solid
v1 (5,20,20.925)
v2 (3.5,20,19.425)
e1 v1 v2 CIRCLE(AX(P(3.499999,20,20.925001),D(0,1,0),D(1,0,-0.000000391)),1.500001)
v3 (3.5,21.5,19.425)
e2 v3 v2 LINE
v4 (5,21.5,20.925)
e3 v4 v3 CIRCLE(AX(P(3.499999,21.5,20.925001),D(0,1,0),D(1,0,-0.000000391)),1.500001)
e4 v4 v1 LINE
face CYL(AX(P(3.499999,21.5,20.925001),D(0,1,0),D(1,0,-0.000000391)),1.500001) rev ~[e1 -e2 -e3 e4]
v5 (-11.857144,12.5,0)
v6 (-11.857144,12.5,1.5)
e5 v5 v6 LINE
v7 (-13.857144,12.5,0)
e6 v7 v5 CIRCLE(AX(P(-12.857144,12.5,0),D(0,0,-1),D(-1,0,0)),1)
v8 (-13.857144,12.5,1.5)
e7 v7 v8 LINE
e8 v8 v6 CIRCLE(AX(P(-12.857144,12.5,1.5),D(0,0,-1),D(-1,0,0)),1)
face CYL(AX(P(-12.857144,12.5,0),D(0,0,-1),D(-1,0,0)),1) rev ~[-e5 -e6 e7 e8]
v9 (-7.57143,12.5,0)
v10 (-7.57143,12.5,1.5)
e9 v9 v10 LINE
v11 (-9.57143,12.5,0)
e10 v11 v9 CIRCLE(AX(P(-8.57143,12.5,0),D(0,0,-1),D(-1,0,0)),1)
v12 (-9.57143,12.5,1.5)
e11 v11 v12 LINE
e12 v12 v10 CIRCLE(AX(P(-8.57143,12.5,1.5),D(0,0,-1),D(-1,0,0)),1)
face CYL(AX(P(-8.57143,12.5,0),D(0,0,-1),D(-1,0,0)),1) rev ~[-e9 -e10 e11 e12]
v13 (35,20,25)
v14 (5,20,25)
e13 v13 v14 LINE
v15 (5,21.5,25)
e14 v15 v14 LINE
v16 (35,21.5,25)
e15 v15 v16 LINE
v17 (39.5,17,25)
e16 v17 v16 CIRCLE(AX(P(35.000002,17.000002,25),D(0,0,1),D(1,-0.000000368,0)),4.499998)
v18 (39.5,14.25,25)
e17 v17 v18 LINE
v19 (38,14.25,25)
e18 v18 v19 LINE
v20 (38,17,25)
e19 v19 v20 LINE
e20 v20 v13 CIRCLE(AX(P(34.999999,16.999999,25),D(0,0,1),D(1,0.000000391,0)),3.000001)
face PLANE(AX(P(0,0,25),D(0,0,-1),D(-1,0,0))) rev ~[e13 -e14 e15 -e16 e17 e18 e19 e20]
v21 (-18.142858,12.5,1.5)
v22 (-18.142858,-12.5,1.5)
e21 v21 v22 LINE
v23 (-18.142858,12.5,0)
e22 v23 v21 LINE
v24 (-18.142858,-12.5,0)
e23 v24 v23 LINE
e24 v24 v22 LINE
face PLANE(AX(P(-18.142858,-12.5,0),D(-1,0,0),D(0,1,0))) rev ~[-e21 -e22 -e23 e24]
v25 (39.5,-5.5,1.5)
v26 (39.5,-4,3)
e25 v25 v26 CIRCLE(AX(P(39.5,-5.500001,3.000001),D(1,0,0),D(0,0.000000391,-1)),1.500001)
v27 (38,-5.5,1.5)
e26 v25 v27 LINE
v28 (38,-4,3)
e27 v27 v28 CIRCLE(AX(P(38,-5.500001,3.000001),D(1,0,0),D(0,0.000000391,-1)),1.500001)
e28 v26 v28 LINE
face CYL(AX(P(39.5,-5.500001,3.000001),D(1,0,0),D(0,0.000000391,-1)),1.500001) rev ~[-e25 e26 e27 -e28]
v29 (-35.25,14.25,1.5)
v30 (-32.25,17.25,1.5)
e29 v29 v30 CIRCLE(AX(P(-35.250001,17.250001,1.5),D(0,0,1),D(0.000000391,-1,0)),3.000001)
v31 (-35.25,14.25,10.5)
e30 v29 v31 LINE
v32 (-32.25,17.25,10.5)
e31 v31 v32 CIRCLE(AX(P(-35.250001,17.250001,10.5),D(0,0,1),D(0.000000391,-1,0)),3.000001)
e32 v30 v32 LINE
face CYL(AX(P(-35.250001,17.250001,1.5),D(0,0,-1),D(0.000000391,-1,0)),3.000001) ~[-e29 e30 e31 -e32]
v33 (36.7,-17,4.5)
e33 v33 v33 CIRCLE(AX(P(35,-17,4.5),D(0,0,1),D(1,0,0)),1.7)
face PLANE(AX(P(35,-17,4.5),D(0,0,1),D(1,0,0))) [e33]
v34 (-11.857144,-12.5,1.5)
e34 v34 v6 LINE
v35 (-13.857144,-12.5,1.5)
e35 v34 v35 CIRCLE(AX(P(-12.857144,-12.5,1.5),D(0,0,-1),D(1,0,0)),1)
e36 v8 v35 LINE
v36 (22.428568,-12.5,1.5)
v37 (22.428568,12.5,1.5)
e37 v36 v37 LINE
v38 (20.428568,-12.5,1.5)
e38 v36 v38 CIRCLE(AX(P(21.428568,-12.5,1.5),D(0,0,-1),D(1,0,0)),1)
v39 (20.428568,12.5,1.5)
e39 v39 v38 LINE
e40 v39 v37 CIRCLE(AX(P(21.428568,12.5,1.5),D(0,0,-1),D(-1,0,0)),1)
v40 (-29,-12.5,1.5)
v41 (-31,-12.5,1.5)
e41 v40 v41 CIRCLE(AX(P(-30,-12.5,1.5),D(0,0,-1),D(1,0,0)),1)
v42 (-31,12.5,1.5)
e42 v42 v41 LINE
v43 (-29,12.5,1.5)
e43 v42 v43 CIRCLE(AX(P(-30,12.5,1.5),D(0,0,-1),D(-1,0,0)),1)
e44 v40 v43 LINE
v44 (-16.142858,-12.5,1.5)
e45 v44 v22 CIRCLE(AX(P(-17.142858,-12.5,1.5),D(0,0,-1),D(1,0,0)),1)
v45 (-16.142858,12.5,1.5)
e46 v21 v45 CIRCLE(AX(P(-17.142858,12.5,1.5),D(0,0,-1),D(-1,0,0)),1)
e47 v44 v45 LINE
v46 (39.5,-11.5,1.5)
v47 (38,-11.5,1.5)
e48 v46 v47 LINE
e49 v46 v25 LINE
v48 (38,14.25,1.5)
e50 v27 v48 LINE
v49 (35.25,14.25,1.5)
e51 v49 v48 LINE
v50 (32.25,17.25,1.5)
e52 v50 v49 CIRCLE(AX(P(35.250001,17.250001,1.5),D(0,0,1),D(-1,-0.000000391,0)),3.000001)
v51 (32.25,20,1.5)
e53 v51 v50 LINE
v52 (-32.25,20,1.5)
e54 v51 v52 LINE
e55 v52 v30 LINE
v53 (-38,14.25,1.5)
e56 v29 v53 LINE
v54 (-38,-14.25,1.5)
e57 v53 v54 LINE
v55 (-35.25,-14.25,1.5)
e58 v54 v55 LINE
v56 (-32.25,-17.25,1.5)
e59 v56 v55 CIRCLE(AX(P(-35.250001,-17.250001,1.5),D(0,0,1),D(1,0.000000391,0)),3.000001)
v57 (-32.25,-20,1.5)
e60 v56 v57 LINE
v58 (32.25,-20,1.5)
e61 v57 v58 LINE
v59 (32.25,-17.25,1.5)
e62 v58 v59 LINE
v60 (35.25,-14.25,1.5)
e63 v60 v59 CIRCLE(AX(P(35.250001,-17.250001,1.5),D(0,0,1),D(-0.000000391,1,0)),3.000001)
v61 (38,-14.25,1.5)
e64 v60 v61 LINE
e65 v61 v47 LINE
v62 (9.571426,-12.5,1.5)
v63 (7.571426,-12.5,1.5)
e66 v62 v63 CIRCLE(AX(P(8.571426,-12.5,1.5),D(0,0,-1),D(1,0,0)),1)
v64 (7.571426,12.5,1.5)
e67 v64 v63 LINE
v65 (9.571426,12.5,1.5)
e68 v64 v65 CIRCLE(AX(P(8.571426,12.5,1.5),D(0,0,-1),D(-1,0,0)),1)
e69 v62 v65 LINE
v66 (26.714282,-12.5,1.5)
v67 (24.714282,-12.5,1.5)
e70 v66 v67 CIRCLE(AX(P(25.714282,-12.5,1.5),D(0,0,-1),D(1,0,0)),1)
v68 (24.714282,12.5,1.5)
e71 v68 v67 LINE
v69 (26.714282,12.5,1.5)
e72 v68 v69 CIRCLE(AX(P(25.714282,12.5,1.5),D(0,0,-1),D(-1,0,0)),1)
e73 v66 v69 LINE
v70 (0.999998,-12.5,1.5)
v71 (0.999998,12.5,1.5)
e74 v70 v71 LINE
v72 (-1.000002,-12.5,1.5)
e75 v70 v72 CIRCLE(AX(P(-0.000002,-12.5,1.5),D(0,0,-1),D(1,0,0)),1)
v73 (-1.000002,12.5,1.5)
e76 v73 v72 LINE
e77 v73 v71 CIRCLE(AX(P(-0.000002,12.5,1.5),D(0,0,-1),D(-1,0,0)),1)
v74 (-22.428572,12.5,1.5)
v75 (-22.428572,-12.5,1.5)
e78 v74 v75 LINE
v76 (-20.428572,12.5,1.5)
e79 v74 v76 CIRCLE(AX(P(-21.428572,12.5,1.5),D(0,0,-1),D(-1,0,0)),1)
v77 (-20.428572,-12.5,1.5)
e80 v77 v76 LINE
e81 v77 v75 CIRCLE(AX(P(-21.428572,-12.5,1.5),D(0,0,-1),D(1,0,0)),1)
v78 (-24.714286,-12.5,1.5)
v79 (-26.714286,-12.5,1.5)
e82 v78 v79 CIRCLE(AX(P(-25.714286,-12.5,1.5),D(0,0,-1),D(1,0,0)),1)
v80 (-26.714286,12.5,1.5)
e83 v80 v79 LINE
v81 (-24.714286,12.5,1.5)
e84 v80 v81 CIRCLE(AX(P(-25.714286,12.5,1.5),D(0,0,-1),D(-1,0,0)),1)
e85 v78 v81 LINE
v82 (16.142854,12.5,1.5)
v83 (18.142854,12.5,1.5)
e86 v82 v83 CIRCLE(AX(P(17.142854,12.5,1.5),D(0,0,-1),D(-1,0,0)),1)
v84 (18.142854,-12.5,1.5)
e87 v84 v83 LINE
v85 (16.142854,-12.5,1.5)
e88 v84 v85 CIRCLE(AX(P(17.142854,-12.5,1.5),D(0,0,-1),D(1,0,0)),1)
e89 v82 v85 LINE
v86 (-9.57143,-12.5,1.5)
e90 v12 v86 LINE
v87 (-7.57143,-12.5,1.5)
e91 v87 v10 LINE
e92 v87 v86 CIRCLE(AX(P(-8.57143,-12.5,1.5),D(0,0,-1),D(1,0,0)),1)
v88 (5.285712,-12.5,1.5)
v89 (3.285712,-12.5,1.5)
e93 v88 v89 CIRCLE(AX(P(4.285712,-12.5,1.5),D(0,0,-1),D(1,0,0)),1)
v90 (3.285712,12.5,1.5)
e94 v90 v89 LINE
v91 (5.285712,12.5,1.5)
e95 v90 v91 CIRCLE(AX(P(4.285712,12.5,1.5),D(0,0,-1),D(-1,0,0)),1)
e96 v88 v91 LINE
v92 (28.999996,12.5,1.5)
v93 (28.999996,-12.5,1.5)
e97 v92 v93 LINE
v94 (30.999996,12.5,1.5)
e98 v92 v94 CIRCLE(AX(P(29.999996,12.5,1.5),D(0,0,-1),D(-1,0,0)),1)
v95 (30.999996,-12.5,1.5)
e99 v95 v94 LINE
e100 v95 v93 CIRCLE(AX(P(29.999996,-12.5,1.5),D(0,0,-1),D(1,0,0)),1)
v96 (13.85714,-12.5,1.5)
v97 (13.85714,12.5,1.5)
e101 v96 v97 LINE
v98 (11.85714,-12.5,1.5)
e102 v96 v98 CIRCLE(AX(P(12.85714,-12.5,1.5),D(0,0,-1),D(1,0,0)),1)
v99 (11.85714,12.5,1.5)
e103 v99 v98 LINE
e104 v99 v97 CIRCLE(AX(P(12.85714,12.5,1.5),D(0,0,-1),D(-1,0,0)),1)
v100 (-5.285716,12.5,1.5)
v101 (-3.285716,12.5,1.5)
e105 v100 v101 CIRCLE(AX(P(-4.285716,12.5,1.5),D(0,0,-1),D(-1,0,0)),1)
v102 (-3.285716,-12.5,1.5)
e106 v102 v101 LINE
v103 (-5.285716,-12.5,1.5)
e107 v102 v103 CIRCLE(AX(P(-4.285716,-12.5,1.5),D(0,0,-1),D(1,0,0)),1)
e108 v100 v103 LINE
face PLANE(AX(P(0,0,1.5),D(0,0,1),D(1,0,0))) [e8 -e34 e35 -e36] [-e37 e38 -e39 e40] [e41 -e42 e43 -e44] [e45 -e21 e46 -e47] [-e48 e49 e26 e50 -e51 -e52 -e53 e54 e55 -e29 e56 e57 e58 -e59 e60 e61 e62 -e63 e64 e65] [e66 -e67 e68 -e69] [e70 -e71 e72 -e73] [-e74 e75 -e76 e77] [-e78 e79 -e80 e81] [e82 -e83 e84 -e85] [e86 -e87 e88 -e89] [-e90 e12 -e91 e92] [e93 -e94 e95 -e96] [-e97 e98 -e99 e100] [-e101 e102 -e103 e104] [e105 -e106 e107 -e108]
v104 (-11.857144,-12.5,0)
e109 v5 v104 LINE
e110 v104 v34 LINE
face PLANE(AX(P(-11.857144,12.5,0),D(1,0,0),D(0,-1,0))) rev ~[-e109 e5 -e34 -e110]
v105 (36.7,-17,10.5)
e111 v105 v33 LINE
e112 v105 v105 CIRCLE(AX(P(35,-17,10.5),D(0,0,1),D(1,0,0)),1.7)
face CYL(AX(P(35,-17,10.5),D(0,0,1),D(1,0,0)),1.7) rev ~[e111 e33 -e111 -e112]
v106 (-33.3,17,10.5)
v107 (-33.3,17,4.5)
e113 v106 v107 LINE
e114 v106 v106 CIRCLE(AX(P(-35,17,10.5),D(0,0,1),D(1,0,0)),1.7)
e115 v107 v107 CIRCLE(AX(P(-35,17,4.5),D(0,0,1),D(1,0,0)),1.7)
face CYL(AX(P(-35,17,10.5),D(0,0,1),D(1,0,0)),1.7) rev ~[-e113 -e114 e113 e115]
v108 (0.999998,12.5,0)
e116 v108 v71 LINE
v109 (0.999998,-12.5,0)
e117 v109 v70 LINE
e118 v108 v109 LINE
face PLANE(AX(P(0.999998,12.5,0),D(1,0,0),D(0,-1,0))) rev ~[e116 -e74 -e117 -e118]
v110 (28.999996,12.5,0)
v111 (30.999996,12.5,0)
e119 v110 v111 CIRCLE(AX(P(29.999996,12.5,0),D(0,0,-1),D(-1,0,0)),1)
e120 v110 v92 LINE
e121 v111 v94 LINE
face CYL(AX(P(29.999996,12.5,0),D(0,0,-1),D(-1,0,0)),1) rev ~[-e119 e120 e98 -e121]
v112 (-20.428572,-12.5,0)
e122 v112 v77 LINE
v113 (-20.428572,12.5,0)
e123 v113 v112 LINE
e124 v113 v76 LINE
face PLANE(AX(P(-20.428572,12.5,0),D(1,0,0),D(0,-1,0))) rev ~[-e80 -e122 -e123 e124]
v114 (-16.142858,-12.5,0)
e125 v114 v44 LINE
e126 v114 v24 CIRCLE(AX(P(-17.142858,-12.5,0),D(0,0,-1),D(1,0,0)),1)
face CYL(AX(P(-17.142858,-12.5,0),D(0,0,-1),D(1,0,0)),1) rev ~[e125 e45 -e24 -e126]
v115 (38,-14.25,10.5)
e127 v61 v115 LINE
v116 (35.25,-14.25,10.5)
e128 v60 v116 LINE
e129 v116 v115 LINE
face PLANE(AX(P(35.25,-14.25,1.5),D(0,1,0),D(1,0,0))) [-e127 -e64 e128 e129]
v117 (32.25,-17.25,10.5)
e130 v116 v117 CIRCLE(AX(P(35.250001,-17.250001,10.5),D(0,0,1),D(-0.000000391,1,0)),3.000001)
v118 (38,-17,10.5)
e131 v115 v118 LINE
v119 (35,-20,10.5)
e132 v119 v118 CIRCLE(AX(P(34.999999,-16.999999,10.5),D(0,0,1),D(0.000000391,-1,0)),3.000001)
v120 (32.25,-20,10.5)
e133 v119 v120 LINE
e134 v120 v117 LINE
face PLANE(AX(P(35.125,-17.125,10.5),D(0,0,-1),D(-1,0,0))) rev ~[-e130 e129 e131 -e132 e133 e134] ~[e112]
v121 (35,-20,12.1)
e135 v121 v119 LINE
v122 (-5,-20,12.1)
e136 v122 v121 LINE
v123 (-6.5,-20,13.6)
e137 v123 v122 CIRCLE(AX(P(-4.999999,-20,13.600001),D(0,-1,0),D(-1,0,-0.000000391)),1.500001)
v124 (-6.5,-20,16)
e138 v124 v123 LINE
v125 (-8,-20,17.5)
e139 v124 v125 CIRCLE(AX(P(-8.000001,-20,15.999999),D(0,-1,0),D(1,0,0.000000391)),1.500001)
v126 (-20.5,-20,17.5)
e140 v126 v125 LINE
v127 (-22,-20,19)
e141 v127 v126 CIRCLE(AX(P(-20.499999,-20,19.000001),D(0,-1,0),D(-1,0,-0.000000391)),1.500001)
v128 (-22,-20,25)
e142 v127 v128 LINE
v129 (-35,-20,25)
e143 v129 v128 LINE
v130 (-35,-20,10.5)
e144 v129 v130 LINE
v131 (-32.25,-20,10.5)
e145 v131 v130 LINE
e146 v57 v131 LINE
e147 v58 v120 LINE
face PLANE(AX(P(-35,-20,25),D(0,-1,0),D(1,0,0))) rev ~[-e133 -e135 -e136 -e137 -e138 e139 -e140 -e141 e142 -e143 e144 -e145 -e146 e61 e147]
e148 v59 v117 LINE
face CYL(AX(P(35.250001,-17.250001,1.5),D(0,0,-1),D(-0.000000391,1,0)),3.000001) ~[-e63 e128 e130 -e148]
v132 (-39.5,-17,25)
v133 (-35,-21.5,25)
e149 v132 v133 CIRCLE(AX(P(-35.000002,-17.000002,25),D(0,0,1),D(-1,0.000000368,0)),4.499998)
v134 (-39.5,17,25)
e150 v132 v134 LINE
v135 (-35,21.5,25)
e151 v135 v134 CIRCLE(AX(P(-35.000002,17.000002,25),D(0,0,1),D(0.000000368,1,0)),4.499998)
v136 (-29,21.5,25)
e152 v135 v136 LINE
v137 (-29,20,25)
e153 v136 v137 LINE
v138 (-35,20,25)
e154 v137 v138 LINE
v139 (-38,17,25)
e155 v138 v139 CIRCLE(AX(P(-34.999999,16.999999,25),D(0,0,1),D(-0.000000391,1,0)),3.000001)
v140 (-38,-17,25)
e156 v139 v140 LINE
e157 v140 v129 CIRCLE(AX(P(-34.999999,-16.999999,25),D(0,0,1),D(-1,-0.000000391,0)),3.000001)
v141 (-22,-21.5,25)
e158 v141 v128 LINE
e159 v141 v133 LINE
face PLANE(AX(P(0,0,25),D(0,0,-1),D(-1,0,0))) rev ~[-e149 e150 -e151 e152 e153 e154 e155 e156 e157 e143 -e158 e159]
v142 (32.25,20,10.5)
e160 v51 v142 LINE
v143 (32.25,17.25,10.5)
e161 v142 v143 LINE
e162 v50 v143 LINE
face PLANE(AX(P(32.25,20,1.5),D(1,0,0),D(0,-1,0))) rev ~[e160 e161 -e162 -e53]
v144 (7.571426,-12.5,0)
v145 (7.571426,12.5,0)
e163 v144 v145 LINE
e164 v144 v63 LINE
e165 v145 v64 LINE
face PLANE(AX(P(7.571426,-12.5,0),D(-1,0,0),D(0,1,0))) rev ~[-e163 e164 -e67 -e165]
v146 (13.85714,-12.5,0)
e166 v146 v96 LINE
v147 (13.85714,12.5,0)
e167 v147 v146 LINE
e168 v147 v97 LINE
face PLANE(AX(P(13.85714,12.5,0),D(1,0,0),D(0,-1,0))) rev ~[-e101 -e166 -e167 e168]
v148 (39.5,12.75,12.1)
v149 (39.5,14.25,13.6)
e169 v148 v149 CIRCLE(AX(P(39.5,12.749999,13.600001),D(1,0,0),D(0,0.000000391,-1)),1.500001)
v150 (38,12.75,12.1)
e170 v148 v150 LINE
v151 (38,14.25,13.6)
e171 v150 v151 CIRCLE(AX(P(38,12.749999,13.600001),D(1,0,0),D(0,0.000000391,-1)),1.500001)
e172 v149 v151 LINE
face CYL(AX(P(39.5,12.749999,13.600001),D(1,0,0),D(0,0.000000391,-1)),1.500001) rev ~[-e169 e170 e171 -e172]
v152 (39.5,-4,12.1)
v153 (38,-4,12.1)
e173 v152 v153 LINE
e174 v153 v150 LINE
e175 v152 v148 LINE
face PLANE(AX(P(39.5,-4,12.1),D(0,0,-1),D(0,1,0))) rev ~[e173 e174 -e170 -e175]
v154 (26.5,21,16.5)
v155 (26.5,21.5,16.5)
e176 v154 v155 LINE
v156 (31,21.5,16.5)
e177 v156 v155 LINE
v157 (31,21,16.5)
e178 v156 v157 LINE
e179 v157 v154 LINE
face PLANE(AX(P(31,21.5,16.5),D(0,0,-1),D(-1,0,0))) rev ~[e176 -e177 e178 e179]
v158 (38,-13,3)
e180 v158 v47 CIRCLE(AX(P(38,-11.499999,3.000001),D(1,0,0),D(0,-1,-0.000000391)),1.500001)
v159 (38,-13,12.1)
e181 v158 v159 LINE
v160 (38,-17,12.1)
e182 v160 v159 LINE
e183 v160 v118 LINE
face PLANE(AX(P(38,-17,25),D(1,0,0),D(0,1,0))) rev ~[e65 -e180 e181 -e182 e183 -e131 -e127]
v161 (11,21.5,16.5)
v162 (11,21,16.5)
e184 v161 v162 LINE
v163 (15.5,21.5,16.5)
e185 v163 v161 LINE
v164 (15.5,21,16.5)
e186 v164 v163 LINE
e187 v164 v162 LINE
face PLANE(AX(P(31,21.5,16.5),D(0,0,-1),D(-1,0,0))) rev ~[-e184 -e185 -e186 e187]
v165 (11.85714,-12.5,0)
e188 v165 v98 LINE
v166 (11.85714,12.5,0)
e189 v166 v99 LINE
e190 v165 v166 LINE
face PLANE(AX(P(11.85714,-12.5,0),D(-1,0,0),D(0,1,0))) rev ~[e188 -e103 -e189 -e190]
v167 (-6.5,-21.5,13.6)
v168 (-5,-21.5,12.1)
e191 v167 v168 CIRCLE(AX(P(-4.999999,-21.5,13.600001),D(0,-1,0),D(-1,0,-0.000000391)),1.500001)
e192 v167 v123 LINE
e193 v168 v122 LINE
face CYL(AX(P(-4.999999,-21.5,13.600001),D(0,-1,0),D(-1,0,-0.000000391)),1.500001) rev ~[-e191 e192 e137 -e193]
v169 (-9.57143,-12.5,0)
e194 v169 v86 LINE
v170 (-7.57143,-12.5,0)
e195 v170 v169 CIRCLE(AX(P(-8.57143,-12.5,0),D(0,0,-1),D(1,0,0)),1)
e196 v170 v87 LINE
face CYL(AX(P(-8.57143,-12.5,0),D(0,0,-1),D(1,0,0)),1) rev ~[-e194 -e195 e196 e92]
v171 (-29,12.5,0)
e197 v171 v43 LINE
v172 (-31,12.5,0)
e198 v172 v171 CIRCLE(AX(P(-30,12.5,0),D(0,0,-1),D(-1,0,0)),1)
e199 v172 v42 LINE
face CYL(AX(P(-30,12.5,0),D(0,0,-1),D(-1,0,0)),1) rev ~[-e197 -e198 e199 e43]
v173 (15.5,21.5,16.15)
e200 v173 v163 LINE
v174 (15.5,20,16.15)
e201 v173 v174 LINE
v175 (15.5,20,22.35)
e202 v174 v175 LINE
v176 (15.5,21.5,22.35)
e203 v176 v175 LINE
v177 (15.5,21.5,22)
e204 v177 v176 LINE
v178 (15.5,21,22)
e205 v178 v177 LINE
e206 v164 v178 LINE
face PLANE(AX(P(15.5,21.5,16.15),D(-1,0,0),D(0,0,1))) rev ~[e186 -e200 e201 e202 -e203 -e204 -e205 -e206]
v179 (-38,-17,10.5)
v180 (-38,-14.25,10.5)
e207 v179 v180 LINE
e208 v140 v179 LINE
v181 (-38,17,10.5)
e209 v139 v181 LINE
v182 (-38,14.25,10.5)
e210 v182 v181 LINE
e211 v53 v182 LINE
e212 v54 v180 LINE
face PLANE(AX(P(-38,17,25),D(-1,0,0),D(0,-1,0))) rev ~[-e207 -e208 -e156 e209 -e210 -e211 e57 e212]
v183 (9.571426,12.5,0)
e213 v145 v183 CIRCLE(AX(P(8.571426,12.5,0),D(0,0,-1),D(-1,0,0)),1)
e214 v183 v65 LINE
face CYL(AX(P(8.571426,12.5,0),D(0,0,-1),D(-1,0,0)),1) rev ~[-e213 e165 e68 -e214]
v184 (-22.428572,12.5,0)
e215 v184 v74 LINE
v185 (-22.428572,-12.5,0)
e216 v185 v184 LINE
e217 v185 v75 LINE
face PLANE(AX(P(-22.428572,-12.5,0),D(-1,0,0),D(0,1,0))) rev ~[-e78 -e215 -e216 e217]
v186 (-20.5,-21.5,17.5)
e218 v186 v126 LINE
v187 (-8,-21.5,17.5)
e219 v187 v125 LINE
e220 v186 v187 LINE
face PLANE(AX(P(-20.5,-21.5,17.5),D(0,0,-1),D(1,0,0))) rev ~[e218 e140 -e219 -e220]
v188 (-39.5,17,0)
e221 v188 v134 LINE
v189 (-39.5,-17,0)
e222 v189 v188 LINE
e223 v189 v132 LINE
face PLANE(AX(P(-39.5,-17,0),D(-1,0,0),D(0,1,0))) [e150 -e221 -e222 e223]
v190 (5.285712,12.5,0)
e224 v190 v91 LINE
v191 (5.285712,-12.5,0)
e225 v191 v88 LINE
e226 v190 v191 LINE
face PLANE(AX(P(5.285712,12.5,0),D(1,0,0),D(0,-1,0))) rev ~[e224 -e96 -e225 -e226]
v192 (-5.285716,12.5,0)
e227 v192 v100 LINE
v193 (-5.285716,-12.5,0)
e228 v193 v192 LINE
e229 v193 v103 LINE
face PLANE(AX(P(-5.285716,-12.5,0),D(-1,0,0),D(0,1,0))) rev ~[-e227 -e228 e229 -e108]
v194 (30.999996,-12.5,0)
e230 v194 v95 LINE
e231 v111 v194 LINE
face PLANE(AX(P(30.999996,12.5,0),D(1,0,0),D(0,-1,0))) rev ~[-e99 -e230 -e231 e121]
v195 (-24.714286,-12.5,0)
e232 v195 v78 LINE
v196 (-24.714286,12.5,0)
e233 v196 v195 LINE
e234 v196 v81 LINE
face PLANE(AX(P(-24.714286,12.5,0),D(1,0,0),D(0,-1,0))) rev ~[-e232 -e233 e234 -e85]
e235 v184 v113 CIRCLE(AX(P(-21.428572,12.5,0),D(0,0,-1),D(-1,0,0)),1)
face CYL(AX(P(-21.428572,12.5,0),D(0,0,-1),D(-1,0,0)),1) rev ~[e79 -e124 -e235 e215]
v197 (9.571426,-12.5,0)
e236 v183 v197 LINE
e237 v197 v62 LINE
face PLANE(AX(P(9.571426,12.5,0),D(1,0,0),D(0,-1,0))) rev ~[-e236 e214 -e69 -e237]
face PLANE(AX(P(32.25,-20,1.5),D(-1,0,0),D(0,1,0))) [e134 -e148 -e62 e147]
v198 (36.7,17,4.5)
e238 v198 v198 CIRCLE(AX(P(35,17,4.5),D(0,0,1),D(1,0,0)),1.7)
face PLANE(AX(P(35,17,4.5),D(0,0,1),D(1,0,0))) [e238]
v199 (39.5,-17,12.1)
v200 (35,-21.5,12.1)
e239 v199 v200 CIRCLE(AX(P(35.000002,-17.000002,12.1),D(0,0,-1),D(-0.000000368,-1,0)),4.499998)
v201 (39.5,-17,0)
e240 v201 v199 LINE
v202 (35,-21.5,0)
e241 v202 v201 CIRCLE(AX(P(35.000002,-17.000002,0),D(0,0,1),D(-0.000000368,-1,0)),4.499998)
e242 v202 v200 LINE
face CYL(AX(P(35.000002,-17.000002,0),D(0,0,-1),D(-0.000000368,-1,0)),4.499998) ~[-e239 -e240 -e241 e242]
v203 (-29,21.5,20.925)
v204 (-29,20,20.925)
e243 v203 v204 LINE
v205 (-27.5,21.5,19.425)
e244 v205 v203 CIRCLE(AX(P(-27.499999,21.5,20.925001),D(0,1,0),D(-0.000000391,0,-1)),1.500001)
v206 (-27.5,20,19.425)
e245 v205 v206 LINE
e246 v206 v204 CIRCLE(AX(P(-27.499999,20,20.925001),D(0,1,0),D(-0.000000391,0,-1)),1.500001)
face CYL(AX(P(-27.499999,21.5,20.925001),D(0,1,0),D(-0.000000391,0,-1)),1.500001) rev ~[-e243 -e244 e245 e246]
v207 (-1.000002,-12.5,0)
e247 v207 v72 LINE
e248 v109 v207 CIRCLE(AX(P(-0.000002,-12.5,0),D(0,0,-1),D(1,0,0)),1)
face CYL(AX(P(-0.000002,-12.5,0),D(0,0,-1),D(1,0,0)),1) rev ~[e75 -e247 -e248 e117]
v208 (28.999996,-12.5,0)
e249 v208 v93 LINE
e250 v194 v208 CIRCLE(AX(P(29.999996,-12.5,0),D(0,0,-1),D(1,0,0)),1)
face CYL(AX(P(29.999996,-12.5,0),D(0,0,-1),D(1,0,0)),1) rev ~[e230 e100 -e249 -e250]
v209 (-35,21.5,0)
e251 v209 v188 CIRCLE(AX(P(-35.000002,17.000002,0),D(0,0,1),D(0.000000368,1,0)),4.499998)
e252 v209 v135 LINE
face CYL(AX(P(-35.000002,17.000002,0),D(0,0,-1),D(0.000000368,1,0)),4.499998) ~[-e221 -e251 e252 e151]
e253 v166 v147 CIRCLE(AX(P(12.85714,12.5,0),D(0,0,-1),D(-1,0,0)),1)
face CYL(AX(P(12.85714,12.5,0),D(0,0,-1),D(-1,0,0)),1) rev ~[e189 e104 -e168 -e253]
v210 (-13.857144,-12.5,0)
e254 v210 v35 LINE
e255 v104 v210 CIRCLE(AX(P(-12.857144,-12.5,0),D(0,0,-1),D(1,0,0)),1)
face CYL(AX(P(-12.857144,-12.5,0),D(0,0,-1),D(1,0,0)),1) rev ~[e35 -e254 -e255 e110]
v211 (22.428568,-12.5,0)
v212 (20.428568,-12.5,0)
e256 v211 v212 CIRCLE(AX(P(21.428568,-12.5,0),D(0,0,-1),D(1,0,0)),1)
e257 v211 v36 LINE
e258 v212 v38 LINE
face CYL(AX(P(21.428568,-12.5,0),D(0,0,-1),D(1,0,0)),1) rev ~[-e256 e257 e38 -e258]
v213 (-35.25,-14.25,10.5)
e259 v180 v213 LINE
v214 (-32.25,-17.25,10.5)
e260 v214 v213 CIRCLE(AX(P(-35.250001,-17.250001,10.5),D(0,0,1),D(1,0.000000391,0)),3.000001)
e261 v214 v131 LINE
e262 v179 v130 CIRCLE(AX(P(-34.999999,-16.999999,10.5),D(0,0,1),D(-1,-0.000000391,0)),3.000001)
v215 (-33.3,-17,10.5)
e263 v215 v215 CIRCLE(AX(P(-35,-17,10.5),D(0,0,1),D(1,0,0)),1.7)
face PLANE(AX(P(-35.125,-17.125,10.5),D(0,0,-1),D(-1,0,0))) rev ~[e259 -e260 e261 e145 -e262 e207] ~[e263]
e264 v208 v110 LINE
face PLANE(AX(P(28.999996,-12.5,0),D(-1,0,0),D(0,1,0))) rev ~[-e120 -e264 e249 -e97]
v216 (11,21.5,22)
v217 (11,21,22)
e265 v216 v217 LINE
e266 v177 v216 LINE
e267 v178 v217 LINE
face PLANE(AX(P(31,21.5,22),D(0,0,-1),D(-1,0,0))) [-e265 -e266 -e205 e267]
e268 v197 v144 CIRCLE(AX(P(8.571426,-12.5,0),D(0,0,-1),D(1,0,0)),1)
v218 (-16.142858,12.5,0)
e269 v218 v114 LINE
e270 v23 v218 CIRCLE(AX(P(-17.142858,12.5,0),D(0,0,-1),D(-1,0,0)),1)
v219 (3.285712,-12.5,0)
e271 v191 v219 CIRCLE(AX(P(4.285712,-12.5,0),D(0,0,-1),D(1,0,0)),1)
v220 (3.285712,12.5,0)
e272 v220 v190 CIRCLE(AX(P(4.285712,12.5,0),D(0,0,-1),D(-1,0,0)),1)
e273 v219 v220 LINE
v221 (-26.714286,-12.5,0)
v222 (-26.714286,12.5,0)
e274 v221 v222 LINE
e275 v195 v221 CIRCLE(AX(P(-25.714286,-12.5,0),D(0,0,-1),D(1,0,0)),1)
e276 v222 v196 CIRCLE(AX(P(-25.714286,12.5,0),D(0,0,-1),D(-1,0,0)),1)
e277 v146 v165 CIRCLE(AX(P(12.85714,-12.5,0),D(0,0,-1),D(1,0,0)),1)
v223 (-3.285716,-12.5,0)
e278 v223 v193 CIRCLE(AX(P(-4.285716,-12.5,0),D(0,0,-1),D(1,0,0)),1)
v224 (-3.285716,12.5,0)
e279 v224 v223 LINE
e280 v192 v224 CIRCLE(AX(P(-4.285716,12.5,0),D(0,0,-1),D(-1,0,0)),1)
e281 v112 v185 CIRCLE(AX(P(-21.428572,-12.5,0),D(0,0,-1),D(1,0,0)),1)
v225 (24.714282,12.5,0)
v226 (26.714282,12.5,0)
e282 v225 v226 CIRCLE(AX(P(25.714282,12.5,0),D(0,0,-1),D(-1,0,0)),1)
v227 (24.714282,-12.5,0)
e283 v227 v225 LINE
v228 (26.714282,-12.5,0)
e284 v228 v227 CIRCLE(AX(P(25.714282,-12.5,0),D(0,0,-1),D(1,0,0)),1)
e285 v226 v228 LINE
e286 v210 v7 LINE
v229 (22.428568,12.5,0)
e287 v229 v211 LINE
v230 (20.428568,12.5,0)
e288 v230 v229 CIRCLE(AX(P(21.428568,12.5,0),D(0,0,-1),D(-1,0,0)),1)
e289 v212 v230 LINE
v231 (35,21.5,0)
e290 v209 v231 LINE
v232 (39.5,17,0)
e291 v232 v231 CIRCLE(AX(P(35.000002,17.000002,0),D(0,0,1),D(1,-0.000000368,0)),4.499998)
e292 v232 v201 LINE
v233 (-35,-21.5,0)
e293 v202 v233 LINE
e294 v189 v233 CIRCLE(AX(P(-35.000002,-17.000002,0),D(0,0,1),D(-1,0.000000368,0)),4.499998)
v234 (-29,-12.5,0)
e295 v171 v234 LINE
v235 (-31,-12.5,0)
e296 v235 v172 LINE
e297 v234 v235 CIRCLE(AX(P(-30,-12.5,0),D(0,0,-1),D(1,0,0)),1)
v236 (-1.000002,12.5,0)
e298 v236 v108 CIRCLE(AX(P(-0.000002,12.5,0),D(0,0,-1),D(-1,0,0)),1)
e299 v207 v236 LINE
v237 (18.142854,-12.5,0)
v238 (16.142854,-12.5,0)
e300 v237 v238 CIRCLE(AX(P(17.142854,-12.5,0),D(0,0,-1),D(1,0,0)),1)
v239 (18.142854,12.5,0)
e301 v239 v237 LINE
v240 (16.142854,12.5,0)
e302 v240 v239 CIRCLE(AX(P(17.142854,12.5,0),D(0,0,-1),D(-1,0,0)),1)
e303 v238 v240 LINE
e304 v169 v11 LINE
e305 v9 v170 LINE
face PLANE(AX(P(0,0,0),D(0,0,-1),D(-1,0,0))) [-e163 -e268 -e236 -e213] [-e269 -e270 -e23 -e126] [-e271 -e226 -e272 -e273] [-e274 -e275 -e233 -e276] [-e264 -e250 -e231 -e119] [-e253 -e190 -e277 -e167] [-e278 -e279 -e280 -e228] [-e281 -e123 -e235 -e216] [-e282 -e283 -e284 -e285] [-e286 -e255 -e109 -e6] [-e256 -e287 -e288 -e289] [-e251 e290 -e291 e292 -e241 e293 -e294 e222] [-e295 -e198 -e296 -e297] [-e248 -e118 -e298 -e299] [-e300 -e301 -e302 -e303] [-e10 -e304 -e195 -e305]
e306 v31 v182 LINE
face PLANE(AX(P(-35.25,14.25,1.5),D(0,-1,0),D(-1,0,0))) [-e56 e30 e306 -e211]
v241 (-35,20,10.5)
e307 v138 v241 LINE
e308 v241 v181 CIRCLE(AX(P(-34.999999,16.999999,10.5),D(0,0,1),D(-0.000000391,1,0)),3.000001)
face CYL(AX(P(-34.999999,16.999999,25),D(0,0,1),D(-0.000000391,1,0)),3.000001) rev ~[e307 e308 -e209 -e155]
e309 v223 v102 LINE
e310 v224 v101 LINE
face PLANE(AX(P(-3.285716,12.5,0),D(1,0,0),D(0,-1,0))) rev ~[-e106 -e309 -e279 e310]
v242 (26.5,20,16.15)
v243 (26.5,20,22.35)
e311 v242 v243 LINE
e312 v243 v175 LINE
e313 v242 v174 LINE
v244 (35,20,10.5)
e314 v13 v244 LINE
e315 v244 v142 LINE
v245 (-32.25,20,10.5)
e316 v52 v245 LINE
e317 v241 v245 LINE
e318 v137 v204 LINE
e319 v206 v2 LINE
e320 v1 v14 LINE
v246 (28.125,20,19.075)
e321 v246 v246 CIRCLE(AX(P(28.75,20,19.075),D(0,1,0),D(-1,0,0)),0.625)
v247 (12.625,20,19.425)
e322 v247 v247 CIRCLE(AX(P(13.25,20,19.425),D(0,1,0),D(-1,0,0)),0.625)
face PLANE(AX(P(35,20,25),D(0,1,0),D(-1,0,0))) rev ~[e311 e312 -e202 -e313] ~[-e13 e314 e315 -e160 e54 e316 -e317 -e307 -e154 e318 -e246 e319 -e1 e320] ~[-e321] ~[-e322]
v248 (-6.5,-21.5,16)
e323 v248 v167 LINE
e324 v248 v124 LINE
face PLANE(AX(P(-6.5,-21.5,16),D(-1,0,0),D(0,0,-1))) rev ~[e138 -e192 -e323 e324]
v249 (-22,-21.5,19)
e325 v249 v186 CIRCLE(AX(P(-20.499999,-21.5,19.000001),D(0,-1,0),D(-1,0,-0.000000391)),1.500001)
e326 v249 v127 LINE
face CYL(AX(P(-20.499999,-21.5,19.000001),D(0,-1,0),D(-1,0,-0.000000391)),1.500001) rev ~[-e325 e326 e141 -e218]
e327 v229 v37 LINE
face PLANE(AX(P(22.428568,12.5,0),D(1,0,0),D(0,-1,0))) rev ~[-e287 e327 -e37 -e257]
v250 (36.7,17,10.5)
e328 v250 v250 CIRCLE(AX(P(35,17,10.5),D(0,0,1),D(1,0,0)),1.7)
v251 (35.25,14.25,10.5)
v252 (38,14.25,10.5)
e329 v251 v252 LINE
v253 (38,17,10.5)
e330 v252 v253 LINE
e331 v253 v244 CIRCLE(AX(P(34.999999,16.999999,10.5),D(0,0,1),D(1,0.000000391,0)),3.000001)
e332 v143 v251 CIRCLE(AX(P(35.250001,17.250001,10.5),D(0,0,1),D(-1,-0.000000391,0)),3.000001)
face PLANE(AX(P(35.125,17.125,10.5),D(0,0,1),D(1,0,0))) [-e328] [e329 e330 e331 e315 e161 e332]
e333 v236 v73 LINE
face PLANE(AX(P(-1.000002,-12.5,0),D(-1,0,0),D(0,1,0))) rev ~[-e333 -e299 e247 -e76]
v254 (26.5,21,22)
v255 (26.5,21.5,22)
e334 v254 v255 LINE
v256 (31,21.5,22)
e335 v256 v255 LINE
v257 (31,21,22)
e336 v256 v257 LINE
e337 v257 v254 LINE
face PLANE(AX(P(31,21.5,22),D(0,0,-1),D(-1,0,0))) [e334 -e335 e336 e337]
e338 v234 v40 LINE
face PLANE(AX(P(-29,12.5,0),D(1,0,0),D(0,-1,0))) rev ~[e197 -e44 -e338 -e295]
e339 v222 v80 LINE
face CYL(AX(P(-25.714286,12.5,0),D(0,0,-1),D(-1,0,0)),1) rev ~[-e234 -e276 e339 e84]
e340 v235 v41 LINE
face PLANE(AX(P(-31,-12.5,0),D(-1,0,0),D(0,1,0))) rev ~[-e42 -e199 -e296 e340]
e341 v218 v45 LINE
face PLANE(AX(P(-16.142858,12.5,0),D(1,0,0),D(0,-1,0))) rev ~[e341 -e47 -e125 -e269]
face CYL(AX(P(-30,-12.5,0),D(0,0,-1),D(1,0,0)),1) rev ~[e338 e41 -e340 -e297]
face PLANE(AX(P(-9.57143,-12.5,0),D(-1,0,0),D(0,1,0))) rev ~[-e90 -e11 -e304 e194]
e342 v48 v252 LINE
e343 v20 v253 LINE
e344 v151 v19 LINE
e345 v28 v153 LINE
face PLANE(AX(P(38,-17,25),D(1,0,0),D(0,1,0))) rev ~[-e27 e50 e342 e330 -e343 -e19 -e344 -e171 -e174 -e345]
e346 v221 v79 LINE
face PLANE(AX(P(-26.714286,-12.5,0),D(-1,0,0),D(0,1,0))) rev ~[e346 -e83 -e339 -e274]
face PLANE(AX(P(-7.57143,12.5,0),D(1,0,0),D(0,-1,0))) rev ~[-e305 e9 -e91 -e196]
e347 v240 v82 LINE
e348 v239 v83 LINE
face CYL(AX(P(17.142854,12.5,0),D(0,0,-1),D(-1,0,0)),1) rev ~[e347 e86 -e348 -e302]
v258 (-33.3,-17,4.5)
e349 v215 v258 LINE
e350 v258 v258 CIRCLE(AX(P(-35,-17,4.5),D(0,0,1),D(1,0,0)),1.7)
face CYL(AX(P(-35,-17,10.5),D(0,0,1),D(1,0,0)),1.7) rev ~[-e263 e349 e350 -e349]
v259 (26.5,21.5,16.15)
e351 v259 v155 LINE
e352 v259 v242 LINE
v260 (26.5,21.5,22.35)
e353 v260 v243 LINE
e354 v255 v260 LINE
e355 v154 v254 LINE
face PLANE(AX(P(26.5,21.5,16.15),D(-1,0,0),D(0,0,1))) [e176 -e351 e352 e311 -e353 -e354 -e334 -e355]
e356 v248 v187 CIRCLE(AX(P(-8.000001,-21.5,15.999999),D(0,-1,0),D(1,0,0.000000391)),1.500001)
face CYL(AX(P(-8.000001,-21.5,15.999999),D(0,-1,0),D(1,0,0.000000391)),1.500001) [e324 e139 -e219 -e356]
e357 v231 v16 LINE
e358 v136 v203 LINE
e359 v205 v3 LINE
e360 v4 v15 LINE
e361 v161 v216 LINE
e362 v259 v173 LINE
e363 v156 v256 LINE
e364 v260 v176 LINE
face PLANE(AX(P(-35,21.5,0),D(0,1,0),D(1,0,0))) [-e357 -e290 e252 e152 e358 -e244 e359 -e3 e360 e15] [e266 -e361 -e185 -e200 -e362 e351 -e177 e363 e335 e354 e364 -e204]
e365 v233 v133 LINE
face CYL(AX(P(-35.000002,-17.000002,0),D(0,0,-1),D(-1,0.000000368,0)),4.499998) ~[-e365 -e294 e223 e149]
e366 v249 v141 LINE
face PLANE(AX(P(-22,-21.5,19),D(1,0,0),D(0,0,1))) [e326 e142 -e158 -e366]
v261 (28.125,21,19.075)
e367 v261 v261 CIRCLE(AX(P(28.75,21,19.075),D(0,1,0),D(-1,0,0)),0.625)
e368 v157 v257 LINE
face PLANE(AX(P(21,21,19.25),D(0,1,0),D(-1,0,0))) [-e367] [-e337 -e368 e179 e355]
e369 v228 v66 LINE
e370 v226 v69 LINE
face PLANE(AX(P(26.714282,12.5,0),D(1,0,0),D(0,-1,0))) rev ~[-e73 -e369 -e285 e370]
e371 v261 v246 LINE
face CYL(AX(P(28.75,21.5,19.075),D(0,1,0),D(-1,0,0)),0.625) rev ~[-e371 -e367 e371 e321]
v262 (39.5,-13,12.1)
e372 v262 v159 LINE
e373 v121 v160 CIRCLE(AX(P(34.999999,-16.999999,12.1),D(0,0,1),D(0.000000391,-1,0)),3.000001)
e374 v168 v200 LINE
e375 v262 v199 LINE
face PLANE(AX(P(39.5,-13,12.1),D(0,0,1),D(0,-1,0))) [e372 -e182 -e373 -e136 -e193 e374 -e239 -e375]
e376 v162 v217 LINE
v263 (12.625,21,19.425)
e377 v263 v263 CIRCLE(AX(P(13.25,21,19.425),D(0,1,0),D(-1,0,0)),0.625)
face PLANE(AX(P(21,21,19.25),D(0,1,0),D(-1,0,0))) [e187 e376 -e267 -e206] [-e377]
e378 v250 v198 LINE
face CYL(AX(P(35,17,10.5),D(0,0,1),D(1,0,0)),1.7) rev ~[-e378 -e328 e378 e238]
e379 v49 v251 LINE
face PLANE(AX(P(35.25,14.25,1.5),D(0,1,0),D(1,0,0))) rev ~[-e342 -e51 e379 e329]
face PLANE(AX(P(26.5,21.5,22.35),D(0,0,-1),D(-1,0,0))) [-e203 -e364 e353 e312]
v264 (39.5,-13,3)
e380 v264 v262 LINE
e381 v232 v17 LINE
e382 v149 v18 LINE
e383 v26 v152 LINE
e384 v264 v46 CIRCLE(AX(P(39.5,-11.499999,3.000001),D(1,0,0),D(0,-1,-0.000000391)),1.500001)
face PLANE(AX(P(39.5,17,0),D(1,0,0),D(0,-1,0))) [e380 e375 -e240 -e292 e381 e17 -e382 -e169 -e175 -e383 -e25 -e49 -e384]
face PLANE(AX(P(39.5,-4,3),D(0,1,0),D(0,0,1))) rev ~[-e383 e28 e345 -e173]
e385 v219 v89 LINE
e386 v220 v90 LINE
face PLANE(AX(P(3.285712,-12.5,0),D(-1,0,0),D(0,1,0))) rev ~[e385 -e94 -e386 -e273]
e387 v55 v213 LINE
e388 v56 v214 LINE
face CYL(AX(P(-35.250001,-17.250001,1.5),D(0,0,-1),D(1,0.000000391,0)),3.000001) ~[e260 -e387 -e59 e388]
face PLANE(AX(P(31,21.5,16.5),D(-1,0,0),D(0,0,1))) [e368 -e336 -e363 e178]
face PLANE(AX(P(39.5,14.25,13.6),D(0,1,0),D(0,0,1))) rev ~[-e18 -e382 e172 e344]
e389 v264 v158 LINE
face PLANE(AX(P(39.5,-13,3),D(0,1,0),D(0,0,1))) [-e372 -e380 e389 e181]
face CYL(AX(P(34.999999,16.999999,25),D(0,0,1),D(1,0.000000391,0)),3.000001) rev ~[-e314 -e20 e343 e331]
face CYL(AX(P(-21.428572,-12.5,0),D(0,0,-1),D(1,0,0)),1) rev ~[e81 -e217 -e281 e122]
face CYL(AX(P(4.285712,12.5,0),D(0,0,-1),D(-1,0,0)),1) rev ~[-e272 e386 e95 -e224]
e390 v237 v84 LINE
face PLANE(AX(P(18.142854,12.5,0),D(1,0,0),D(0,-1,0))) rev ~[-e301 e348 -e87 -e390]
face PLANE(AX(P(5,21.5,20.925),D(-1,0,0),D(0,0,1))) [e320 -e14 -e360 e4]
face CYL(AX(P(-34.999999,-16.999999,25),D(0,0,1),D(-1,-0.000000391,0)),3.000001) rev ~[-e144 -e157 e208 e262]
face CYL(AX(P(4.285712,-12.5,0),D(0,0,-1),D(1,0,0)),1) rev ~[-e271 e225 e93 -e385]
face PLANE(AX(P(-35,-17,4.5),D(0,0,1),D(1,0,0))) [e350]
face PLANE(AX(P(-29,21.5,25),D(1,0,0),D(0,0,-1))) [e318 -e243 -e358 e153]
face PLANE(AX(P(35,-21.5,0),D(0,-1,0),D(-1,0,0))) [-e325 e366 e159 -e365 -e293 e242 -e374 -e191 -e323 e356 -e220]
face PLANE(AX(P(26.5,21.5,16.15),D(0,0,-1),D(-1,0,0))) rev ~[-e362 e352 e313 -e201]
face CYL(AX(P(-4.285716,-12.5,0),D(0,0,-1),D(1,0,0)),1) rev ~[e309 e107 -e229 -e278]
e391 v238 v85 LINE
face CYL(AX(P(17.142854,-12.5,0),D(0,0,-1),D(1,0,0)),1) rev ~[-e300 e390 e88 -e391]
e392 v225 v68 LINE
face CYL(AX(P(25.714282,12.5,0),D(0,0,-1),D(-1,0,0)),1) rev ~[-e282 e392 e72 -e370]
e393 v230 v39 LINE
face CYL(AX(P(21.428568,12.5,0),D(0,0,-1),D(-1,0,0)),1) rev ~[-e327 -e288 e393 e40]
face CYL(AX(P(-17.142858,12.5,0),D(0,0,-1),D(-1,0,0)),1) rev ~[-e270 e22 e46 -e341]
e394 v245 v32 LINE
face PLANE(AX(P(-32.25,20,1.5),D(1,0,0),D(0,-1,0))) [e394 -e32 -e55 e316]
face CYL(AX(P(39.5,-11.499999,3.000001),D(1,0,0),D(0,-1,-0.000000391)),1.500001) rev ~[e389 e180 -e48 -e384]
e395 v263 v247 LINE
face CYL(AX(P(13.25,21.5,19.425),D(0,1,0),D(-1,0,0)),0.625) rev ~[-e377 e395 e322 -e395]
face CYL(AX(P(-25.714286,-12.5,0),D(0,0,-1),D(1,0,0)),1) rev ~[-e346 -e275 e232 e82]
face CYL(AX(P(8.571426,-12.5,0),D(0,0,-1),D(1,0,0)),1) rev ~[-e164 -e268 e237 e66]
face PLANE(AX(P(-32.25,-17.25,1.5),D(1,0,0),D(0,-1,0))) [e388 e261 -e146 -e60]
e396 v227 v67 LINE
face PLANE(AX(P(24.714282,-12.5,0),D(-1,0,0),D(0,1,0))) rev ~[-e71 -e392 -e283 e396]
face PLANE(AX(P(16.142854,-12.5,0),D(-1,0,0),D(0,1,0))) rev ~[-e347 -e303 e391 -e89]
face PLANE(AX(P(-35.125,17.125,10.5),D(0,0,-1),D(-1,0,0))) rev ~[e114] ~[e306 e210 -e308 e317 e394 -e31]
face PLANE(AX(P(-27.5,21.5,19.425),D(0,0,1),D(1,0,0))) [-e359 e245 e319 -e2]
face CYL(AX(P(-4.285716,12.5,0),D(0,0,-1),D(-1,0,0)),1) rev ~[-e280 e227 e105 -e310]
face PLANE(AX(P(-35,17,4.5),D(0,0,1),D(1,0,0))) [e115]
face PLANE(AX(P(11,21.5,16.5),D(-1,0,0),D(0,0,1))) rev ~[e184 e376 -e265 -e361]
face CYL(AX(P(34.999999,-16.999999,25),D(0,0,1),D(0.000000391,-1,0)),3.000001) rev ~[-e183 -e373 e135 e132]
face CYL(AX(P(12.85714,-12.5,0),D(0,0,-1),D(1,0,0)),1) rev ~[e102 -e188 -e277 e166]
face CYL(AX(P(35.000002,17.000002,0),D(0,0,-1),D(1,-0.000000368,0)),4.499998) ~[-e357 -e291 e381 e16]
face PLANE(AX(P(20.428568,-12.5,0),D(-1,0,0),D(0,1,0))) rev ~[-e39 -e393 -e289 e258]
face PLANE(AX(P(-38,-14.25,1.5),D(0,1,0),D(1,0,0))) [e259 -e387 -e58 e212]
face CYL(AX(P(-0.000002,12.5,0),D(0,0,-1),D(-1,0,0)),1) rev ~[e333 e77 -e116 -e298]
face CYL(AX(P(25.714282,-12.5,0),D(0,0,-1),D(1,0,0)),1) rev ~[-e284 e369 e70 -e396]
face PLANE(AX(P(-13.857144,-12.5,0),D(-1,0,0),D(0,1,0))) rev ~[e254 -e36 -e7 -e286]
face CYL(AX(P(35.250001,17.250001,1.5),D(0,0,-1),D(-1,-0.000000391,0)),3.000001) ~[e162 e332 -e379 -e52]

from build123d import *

# Parameters (mm, degrees)
PAD_DEPTH           = 25
POCKET_DEPTH        = 23.5
PAD001_DEPTH        = 9
SKETCH003_R         = 1.7
POCKET001_DEPTH     = 6
POCKET002_DEPTH     = 5
SKETCH005_W         = 20
SKETCH005_H         = 5.5
POCKET003_DEPTH     = 0.5
SKETCH006_R         = 0.625
SKETCH006_W         = 11
SKETCH006_H         = 6.2
POCKET004_DEPTH     = 5
POCKET005_DEPTH     = 5
POCKET006_DEPTH     = 25.001
LINEARPATTERN_COUNT = 15
LINEARPATTERN_PITCH = 4.285714
POCKET007_DEPTH     = 5


with BuildPart() as part:
    # Sketch → Pad (new body)
    with BuildSketch(Plane.XY):
        with BuildLine():
            Line((-35, 21.5), (35, 21.5))
            ThreePointArc((39.5, 17), (38.181981, 20.181981), (35, 21.5))
            Line((39.5, 17), (39.5, -17))
            ThreePointArc((35, -21.5), (38.181981, -20.181981), (39.5, -17))
            Line((35, -21.5), (-35, -21.5))
            ThreePointArc((-39.5, -17), (-38.181981, -20.181981), (-35, -21.5))
            Line((-39.5, -17), (-39.5, 17))
            ThreePointArc((-35, 21.5), (-38.181981, 20.181981), (-39.5, 17))
        make_face()
    extrude(amount=PAD_DEPTH)

    # Sketch001 (on Face10 of Pad) → Pocket (cut)
    with BuildSketch(Plane.XY.offset(25)):
        with BuildLine():
            Line((35, 20), (-35, 20))
            ThreePointArc((-35, 20), (-37.12132, 19.12132), (-38, 17))
            Line((-38, 17), (-38, -17))
            ThreePointArc((-38, -17), (-37.12132, -19.12132), (-35, -20))
            Line((-35, -20), (35, -20))
            ThreePointArc((35, -20), (37.12132, -19.12132), (38, -17))
            Line((38, -17), (38, 17))
            ThreePointArc((38, 17), (37.12132, 19.12132), (35, 20))
        make_face()
    extrude(amount=-POCKET_DEPTH, mode=Mode.SUBTRACT)

    # Sketch002 (on Face19 of Pocket) → Pad001 (join)
    with BuildSketch(Plane.XY.offset(1.5)):
        with BuildLine():
            Line((-35, 20), (-32.25, 20))
            Line((-32.25, 20), (-32.25, 17.25))
            ThreePointArc((-35.25, 14.25), (-33.12868, 15.12868), (-32.25, 17.25))
            Line((-35.25, 14.25), (-38, 14.25))
            Line((-38, 14.25), (-38, 17))
            ThreePointArc((-35, 20), (-37.12132, 19.12132), (-38, 17))
        make_face()
        with BuildLine():
            Line((35, 20), (32.25, 20))
            Line((32.25, 20), (32.25, 17.25))
            ThreePointArc((32.25, 17.25), (33.12868, 15.12868), (35.25, 14.25))
            Line((35.25, 14.25), (38, 14.25))
            Line((38, 14.25), (38, 17))
            ThreePointArc((38, 17), (37.12132, 19.12132), (35, 20))
        make_face()
        with BuildLine():
            Line((-38, -14.25), (-35.25, -14.25))
            ThreePointArc((-32.25, -17.25), (-33.12868, -15.12868), (-35.25, -14.25))
            Line((-32.25, -17.25), (-32.25, -20))
            Line((-32.25, -20), (-35, -20))
            ThreePointArc((-38, -17), (-37.12132, -19.12132), (-35, -20))
            Line((-38, -17), (-38, -14.25))
        make_face()
        with BuildLine():
            Line((35.25, -14.25), (38, -14.25))
            Line((38, -14.25), (38, -17))
            ThreePointArc((35, -20), (37.12132, -19.12132), (38, -17))
            Line((35, -20), (32.25, -20))
            Line((32.25, -20), (32.25, -17.25))
            ThreePointArc((35.25, -14.25), (33.12868, -15.12868), (32.25, -17.25))
        make_face()
    extrude(amount=PAD001_DEPTH)

    # Sketch003 (on Face19 of Pad001) → Pocket001 (cut)
    with BuildSketch(Plane.XY.offset(10.5)):
        with Locations((-35, 17)):
            Circle(SKETCH003_R)
        with Locations((-35, -17)):
            Circle(SKETCH003_R)
        with Locations((35, -17)):
            Circle(SKETCH003_R)
        with Locations((35, 17)):
            Circle(SKETCH003_R)
    extrude(amount=-POCKET001_DEPTH, mode=Mode.SUBTRACT)

    # Sketch004 (on Face6 of Pocket001) → Pocket002 (cut)
    with BuildSketch(Plane.XZ.offset(21.5)):
        with BuildLine():
            Line((-22, 25), (39.5, 25))
            Line((39.5, 12.1), (39.5, 25))
            Line((-5, 12.1), (39.5, 12.1))
            ThreePointArc((-6.5, 13.6), (-6.06066, 12.53934), (-5, 12.1))
            Line((-6.5, 16), (-6.5, 13.6))
            ThreePointArc((-6.5, 16), (-6.93934, 17.06066), (-8, 17.5))
            Line((-20.5, 17.5), (-8, 17.5))
            ThreePointArc((-22, 19), (-21.56066, 17.93934), (-20.5, 17.5))
            Line((-22, 19), (-22, 25))
        make_face()
    extrude(amount=-POCKET002_DEPTH, mode=Mode.SUBTRACT)

    # Sketch005 (on Face7 of Pocket002) → Pocket003 (cut)
    with BuildSketch(Plane(origin=(0, 21.5, 0), x_dir=(-1, 0, 0), z_dir=(0, 1, 0))):
        with Locations((-21, 19.25)):
            Rectangle(SKETCH005_W, SKETCH005_H)
    extrude(amount=-POCKET003_DEPTH, mode=Mode.SUBTRACT)

    # Sketch006 (on Face7 of Pocket003) → Pocket004 (cut)
    with BuildSketch(Plane(origin=(0, 21.5, 0), x_dir=(-1, 0, 0), z_dir=(0, 1, 0))):
        with Locations((-13.25, 19.425)):
            Circle(SKETCH006_R)
        with Locations((-28.75, 19.075)):
            Circle(SKETCH006_R)
        with Locations((-21, 19.25)):
            Rectangle(SKETCH006_W, SKETCH006_H)
    extrude(amount=-POCKET004_DEPTH, mode=Mode.SUBTRACT)

    # Sketch007 (on Face9 of Pocket004) → Pocket005 (cut)
    with BuildSketch(Plane.YZ.offset(39.5)):
        with BuildLine():
            Line((-11.5, 1.5), (-5.5, 1.5))
            ThreePointArc((-5.5, 1.5), (-4.43934, 1.93934), (-4, 3))
            Line((-4, 3), (-4, 12.1))
            Line((-4, 12.1), (12.75, 12.1))
            ThreePointArc((12.75, 12.1), (13.81066, 12.53934), (14.25, 13.6))
            Line((14.25, 13.6), (14.25, 25))
            Line((14.25, 25), (-16.5, 25))
            Line((-16.5, 12.1), (-16.5, 25))
            Line((-13, 12.1), (-16.5, 12.1))
            Line((-13, 3), (-13, 12.1))
            ThreePointArc((-13, 3), (-12.56066, 1.93934), (-11.5, 1.5))
        make_face()
    extrude(amount=-POCKET005_DEPTH, mode=Mode.SUBTRACT)

    # Sketch008 (on Face4 of Pocket005) → Pocket006 (cut, through all)
    with BuildSketch(Plane(origin=(0, 0, 0), x_dir=(1, 0, 0), z_dir=(0, 0, -1))):
        with BuildLine():
            ThreePointArc((-29, 12.5), (-30, 13.5), (-31, 12.5))
            Line((-31, 12.5), (-31, -12.5))
            ThreePointArc((-31, -12.5), (-30, -13.5), (-29, -12.5))
            Line((-29, -12.5), (-29, 12.5))
        make_face()
    pocket006 = extrude(amount=-POCKET006_DEPTH, mode=Mode.SUBTRACT)

    # LinearPattern: Pocket006 ×15
    with Locations(*[(i * LINEARPATTERN_PITCH, 0, 0) for i in range(1, LINEARPATTERN_COUNT)]):
        add(pocket006, mode=Mode.SUBTRACT)

    # Sketch009 (on Face7 of LinearPattern) → Pocket007 (cut)
    with BuildSketch(Plane(origin=(0, 21.5, 0), x_dir=(-1, 0, 0), z_dir=(0, 1, 0))):
        with BuildLine():
            Line((-5, 25), (29, 25))
            Line((29, 25), (29, 20.925))
            ThreePointArc((27.5, 19.425), (28.56066, 19.86434), (29, 20.925))
            Line((27.5, 19.425), (-3.5, 19.425))
            ThreePointArc((-5, 20.925), (-4.56066, 19.86434), (-3.5, 19.425))
            Line((-5, 20.925), (-5, 25))
        make_face()
    extrude(amount=-POCKET007_DEPTH, mode=Mode.SUBTRACT)


solid = part.part
